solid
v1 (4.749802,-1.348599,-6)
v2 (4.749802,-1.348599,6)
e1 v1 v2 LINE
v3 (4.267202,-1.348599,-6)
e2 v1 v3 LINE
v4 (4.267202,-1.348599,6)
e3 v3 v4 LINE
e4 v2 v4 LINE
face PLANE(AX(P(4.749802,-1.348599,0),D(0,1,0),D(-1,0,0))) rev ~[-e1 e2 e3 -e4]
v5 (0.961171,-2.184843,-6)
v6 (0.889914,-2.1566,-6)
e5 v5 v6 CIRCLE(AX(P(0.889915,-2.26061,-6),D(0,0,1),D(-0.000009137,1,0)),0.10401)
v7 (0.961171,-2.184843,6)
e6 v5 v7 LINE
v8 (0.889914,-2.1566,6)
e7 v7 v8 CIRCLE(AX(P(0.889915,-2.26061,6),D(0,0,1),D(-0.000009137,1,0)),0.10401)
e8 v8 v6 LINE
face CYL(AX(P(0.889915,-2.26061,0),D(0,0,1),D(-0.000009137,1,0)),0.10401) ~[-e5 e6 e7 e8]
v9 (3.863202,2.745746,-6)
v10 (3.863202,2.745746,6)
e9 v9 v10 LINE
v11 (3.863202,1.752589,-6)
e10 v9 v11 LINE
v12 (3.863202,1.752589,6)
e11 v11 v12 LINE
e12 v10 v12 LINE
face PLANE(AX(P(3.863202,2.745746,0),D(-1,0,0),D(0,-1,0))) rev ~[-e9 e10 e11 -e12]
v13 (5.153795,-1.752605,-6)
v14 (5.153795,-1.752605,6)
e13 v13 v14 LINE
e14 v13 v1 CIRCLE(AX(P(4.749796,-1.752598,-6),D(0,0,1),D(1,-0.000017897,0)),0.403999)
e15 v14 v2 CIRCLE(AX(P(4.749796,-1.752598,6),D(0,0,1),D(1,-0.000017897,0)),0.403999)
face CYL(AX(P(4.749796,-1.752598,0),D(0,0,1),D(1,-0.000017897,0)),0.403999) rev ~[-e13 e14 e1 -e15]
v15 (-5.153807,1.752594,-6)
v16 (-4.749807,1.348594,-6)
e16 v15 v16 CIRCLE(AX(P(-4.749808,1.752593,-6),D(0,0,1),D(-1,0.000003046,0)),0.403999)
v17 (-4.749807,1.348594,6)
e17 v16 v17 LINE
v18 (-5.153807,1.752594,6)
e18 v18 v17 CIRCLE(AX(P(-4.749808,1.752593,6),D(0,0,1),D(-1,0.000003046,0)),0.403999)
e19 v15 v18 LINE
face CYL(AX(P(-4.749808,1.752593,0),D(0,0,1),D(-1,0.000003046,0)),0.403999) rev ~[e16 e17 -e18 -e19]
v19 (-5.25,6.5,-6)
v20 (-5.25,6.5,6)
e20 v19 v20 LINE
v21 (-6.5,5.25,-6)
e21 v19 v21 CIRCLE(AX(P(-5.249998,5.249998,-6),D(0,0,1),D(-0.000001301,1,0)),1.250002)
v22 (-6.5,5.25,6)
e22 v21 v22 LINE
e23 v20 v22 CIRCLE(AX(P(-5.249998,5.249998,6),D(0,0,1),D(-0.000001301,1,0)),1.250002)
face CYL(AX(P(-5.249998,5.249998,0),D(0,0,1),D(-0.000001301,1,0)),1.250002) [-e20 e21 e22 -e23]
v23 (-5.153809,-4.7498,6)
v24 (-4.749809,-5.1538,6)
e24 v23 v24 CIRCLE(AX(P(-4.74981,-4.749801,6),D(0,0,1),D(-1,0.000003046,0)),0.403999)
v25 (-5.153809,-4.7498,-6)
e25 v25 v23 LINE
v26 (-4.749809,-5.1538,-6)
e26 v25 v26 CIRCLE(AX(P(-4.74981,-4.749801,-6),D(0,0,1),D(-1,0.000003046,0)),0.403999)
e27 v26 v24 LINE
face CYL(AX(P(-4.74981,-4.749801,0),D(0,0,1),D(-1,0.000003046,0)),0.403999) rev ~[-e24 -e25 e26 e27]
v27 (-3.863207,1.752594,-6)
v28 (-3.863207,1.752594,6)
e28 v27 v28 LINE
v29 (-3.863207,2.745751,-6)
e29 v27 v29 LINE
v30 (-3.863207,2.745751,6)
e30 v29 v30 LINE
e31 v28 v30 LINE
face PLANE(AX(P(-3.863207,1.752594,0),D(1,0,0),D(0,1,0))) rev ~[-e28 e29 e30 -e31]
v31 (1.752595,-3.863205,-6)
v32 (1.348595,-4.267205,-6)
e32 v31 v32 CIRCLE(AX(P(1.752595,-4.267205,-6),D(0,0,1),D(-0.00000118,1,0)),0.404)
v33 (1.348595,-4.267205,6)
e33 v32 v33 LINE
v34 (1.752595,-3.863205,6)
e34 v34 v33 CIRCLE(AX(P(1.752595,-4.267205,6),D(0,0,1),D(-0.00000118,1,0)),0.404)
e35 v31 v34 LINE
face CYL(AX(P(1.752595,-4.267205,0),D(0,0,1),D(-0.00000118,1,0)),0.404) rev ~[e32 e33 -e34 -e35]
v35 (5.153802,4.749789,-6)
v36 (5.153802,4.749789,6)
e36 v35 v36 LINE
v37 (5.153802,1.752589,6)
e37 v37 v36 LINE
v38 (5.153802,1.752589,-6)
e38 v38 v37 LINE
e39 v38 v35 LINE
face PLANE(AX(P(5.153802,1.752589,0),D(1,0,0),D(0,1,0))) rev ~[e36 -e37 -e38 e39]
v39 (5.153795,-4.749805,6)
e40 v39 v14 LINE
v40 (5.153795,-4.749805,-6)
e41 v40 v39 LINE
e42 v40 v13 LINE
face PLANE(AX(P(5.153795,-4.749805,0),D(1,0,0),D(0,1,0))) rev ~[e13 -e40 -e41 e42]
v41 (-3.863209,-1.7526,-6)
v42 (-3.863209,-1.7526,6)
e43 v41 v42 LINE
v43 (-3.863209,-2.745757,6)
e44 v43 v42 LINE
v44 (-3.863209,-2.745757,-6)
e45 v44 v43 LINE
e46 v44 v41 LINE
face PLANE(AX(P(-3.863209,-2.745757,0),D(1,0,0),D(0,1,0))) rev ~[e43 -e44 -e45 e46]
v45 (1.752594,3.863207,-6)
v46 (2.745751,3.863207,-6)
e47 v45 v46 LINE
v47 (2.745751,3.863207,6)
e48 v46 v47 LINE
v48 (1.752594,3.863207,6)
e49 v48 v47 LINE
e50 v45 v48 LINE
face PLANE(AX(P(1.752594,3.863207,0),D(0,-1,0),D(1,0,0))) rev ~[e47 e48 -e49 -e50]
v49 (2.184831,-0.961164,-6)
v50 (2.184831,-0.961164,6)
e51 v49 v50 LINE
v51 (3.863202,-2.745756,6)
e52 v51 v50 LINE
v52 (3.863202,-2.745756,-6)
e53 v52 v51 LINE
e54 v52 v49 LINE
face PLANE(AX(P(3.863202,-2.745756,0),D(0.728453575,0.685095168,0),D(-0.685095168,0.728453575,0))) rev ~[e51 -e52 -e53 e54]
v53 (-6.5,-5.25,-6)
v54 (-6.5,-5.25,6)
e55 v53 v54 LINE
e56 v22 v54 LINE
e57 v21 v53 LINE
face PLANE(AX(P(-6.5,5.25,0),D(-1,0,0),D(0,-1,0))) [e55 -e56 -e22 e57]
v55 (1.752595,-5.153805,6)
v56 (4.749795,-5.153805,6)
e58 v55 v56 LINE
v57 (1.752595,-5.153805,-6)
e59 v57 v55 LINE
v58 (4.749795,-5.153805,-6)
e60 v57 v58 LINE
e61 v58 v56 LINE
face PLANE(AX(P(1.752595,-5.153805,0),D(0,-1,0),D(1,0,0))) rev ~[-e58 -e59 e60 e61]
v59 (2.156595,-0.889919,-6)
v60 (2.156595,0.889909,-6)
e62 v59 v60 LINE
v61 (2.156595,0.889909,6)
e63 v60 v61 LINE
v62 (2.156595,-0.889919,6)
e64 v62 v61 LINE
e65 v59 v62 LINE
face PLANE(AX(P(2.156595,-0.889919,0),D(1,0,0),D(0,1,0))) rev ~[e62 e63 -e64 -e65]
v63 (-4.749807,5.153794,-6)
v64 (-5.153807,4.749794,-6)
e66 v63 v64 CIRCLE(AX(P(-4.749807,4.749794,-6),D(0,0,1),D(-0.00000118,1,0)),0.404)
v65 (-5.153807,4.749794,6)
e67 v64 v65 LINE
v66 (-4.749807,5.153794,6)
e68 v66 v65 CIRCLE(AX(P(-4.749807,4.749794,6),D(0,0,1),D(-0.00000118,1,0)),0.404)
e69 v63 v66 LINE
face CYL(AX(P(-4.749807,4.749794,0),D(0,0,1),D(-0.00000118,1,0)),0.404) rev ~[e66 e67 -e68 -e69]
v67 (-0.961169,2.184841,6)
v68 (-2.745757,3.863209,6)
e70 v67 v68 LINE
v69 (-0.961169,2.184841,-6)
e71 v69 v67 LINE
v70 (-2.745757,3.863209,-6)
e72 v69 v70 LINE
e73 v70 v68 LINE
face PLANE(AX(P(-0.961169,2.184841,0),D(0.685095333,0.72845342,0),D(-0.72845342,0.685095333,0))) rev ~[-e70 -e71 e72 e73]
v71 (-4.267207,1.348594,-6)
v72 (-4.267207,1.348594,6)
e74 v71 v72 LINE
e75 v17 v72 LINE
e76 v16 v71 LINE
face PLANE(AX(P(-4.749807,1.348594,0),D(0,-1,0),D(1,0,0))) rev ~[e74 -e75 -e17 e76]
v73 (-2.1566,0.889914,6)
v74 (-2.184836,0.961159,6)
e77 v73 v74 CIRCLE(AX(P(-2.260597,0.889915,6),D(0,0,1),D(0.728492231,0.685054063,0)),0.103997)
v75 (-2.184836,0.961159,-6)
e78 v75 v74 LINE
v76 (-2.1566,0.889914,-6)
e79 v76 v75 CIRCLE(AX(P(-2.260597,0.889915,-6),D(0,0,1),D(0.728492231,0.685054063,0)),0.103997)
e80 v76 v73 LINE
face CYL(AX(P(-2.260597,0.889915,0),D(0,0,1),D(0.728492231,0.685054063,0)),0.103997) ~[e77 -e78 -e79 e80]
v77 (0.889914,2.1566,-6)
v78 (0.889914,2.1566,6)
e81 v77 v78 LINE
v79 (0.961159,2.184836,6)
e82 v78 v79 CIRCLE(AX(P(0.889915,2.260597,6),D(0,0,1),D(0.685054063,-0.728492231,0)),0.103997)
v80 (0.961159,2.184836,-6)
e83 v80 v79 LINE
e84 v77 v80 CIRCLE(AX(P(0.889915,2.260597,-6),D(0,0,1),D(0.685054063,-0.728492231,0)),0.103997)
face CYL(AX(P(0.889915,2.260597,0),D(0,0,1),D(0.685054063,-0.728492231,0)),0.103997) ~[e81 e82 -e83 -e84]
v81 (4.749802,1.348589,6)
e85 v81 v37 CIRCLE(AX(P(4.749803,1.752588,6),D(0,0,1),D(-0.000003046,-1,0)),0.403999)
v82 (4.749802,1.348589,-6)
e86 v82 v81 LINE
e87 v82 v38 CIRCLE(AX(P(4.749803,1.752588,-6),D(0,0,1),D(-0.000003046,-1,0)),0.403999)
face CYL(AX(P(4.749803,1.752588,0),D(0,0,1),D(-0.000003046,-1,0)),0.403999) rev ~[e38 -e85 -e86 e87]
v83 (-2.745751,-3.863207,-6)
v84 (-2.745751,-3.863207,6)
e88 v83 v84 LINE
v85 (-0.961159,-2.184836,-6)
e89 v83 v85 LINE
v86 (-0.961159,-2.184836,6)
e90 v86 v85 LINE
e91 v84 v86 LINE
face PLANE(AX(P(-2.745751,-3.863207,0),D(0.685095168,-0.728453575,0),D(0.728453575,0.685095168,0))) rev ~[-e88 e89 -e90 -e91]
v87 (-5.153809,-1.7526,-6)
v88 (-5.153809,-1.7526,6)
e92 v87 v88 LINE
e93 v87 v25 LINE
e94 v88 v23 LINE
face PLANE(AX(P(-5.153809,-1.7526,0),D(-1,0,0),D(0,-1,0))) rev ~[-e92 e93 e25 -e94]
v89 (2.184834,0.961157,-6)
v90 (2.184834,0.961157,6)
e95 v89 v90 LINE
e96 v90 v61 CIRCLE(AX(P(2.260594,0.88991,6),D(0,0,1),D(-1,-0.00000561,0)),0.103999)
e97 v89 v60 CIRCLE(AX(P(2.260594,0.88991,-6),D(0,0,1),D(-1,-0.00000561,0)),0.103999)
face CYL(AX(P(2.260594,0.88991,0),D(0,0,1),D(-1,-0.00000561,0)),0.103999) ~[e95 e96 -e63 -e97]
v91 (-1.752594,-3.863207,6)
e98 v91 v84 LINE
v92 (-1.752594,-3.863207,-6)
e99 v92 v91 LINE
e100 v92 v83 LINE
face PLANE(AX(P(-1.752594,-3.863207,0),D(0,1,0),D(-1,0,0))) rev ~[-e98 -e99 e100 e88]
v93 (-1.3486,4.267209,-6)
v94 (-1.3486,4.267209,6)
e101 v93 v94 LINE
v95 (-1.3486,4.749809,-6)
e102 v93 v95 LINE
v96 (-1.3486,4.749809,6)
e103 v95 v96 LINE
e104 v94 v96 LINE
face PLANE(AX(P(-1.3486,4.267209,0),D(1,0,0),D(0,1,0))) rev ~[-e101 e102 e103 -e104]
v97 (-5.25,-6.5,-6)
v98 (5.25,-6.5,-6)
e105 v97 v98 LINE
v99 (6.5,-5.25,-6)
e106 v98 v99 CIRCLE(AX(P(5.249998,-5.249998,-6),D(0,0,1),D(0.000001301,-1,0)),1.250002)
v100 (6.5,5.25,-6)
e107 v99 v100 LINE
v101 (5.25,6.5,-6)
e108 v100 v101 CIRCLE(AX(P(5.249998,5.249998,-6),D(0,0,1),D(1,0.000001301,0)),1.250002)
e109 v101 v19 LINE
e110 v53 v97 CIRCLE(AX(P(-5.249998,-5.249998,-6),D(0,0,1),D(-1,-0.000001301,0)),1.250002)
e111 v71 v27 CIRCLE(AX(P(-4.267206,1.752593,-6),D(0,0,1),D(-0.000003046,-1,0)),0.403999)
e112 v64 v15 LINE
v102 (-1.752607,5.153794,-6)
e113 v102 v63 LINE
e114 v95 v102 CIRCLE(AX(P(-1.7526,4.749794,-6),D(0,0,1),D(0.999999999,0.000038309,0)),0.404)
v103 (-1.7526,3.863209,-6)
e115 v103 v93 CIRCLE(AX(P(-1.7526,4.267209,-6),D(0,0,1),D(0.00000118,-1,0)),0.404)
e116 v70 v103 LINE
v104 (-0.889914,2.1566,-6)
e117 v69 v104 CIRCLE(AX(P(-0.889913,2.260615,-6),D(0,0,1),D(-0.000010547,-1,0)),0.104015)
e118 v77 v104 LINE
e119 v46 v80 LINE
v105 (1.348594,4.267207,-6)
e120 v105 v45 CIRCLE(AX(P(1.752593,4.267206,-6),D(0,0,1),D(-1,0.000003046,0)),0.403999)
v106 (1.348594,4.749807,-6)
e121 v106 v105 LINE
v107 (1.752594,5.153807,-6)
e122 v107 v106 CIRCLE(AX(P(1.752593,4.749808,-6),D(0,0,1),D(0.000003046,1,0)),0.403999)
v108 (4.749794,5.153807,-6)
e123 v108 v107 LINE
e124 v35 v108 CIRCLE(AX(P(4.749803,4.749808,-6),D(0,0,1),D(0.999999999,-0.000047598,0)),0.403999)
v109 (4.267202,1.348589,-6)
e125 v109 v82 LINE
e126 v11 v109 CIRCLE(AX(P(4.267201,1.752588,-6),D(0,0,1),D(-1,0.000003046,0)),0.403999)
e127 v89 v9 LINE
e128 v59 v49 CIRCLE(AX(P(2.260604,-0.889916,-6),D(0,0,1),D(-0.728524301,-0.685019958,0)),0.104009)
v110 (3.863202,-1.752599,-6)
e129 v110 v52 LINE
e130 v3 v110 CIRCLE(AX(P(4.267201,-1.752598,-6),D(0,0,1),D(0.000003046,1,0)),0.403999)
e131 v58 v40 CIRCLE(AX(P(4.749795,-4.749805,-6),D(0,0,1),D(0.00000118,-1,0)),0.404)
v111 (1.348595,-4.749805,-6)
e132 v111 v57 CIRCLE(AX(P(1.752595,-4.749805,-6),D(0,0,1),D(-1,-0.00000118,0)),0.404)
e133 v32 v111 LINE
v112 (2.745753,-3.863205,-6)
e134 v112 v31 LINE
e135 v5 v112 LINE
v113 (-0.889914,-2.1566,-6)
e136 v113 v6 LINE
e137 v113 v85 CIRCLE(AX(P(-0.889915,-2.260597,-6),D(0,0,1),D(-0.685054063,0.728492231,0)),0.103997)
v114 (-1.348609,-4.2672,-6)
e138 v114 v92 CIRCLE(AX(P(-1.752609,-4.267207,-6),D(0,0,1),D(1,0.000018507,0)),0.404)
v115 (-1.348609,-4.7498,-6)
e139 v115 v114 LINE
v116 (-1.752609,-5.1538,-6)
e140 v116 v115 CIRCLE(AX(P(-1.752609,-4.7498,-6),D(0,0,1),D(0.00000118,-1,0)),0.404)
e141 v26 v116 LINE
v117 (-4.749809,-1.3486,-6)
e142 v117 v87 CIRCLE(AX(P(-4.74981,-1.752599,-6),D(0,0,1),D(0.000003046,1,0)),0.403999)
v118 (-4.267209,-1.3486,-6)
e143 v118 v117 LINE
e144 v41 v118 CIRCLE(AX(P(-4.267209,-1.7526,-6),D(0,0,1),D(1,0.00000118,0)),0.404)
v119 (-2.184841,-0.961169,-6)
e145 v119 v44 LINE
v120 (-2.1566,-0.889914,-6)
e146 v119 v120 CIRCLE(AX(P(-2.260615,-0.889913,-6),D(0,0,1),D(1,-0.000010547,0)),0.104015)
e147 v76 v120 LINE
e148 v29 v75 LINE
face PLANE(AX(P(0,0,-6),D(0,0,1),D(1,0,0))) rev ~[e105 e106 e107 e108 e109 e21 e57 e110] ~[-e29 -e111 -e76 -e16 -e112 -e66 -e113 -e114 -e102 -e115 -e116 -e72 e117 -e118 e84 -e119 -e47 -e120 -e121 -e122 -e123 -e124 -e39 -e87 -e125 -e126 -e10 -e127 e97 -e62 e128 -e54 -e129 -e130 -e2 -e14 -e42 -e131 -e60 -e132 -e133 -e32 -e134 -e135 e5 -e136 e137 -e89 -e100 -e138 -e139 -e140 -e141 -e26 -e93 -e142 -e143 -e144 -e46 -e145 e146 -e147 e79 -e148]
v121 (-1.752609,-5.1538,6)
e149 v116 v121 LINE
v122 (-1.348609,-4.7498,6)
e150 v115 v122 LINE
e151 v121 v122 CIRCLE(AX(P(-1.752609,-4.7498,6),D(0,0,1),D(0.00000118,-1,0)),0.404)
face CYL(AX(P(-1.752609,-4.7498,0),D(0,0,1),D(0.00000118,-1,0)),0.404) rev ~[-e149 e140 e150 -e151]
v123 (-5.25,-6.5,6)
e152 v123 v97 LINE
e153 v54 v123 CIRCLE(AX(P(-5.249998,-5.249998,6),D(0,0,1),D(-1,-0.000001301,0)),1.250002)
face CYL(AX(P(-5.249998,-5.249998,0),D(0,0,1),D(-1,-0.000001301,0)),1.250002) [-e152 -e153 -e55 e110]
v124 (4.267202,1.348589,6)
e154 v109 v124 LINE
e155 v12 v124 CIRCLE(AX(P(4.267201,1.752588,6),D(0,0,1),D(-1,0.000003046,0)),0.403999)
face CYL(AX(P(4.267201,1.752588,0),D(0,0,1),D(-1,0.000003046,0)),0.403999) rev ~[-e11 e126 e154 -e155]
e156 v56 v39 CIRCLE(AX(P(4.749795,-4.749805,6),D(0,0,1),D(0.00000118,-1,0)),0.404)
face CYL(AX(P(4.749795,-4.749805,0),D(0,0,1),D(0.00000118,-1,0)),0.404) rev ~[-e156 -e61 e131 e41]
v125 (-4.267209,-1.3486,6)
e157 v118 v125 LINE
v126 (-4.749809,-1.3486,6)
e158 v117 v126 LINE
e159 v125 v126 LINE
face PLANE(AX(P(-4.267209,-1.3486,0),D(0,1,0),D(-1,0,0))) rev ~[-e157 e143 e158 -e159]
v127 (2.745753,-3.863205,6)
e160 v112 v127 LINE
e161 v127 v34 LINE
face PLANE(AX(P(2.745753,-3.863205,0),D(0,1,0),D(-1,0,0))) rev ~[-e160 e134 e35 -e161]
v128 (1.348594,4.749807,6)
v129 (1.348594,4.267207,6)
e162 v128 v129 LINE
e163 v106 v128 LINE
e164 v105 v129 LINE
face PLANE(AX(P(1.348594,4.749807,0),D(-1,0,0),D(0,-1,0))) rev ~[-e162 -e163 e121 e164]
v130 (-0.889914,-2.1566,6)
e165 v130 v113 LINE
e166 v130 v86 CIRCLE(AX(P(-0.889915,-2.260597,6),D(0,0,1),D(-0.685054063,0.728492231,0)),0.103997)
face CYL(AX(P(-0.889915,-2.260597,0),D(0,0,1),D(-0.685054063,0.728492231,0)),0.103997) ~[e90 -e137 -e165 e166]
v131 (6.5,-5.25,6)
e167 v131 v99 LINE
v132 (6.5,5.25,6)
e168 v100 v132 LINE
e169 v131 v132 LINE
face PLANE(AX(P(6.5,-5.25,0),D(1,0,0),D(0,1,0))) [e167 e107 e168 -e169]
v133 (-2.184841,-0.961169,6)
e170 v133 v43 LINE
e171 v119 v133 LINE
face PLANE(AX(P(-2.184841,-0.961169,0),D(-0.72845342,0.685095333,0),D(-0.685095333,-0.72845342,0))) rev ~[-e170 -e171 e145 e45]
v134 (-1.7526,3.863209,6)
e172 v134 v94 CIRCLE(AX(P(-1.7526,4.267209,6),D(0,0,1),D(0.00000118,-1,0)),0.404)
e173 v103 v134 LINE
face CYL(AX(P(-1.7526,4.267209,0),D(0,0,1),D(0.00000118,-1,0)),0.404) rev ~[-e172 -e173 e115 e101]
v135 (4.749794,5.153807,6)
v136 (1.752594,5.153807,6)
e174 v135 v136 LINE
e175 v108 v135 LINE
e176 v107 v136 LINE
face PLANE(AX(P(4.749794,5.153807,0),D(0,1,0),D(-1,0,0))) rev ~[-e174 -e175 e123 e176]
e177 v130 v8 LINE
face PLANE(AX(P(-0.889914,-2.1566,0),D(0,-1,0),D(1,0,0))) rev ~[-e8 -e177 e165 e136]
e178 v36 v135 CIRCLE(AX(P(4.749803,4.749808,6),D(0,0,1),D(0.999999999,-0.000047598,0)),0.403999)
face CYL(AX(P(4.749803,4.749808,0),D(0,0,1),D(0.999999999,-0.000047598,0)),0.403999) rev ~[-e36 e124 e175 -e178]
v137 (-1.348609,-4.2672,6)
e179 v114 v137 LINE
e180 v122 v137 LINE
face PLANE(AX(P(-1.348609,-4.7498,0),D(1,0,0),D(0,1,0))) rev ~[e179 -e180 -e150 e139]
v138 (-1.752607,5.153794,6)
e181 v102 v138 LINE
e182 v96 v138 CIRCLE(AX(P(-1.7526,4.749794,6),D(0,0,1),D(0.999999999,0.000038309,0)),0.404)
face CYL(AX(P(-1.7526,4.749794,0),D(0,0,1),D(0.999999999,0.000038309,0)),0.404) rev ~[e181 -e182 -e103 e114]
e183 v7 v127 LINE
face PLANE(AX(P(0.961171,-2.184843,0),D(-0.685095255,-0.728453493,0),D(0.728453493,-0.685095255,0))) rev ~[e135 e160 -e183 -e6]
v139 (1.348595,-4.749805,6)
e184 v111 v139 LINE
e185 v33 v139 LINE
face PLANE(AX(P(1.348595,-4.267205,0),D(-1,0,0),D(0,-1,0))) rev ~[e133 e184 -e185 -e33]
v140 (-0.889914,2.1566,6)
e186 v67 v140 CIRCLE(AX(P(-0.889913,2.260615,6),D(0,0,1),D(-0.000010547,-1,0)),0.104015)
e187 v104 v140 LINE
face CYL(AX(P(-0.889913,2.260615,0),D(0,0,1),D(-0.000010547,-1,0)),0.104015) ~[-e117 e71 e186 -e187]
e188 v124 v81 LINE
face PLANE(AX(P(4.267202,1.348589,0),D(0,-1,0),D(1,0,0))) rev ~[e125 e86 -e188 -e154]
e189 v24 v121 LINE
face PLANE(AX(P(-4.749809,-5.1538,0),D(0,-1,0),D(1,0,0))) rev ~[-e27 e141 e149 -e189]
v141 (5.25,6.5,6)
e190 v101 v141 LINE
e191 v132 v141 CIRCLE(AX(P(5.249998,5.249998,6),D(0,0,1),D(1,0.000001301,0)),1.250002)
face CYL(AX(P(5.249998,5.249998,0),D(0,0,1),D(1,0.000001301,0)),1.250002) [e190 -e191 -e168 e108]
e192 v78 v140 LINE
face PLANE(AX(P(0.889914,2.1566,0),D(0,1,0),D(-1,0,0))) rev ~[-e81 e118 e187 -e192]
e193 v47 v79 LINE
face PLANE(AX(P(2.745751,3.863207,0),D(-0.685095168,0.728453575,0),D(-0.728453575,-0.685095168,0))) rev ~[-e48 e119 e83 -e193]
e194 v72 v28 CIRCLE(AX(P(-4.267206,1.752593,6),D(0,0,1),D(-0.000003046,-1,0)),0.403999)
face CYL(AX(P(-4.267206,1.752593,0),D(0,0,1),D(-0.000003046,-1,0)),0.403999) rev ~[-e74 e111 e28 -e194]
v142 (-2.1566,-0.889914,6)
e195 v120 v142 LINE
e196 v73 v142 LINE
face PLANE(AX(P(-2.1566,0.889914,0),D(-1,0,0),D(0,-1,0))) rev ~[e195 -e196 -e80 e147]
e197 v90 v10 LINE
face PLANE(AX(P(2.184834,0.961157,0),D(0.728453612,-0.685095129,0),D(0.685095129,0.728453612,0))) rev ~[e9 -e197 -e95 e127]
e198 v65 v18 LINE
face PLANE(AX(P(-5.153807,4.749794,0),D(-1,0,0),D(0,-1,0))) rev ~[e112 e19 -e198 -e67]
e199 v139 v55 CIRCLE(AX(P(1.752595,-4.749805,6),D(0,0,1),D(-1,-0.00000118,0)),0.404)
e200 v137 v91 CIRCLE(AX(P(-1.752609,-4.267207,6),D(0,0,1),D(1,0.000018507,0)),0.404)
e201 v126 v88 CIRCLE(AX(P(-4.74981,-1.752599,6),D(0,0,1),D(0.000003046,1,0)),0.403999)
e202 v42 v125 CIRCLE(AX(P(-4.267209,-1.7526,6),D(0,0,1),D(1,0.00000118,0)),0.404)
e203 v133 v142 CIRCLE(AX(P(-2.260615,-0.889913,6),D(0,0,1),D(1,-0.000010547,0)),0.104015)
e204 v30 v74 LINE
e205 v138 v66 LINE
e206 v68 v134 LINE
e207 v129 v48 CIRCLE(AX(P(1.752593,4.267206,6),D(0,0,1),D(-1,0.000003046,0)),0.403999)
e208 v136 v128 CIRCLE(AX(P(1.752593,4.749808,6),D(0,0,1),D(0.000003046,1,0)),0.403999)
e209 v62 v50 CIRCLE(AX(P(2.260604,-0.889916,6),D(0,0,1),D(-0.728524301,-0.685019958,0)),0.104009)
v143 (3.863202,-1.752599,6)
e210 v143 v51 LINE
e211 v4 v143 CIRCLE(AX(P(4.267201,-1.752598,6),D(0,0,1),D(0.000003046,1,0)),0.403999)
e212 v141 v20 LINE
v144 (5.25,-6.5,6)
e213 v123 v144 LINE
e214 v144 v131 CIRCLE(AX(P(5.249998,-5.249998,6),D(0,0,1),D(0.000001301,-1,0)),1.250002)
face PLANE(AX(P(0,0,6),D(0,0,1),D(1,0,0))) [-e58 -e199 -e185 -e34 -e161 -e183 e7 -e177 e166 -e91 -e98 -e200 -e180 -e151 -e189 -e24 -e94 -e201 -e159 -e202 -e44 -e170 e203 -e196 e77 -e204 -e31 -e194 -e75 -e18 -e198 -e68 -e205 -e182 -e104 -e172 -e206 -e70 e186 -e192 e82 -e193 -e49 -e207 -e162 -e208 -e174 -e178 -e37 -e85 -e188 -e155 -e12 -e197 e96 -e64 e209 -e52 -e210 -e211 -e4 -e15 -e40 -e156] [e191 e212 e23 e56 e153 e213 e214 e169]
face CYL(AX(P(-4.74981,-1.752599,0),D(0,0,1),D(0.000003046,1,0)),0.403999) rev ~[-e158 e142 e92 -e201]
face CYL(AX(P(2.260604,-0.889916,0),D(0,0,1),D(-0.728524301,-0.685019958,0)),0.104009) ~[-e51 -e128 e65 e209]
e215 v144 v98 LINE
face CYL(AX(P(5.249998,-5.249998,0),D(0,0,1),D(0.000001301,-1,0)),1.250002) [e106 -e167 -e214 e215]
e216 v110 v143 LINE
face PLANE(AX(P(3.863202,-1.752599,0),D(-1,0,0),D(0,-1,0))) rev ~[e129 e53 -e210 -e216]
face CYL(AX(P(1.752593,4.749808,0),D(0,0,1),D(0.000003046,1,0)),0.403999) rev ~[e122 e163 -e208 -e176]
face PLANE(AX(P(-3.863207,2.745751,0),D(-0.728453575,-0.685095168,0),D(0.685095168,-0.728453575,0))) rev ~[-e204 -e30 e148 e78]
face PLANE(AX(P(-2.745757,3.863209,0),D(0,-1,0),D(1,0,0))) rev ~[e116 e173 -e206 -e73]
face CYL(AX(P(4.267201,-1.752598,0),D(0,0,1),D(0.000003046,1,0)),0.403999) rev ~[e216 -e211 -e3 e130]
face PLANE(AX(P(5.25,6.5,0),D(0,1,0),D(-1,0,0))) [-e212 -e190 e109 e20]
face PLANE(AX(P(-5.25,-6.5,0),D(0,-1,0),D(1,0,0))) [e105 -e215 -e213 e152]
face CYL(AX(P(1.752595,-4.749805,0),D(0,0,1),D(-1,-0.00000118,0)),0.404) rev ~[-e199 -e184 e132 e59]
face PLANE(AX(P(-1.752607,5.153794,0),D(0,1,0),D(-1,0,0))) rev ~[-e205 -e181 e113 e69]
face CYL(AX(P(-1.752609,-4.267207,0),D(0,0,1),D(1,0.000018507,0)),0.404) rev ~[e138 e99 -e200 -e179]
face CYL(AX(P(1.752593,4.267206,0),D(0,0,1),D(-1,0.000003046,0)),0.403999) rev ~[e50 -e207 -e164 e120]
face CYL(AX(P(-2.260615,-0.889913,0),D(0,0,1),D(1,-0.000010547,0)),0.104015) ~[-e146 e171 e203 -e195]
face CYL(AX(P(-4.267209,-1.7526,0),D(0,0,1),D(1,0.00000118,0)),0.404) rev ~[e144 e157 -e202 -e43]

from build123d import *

# Parameters (mm, degrees)
F1_DEPTH = 6
F3_DEPTH = 10


with BuildPart() as f1:
    # F0 (on Top) → F1 (new body, symmetric)
    with BuildSketch(Plane.XY):
        with BuildLine():
            Line((6.5, -5.25), (6.5, 5.25))
            ThreePointArc((6.5, 5.25), (6.133883, 6.133883), (5.25, 6.5))
            Line((5.25, 6.5), (-5.25, 6.5))
            ThreePointArc((-5.25, 6.5), (-6.133883, 6.133883), (-6.5, 5.25))
            Line((-6.5, 5.25), (-6.5, -5.25))
            ThreePointArc((-6.5, -5.25), (-6.133883, -6.133883), (-5.25, -6.5))
            Line((-5.25, -6.5), (5.25, -6.5))
            ThreePointArc((5.25, -6.5), (6.133883, -6.133883), (6.5, -5.25))
        make_face()
    extrude(amount=F1_DEPTH, both=True)

    # F2 (on Top) → F3 (cut, symmetric)
    with BuildSketch(Plane.XY):
        with BuildLine():
            ThreePointArc((0.889914, -2.1566), (0.928239, -2.163918), (0.961171, -2.184843))
            Line((0.961171, -2.184843), (2.745753, -3.863205))
            Line((2.745753, -3.863205), (1.752595, -3.863205))
            ThreePointArc((1.752595, -3.863205), (1.466924, -3.981534), (1.348595, -4.267205))
            Line((1.348595, -4.267205), (1.348595, -4.749805))
            ThreePointArc((1.348595, -4.749805), (1.466924, -5.035476), (1.752595, -5.153805))
            Line((1.752595, -5.153805), (4.749795, -5.153805))
            ThreePointArc((4.749795, -5.153805), (5.035466, -5.035476), (5.153795, -4.749805))
            Line((5.153795, -4.749805), (5.153795, -1.752605))
            ThreePointArc((5.153795, -1.752605), (5.035471, -1.466932), (4.749802, -1.348599))
            Line((4.749802, -1.348599), (4.267202, -1.348599))
            ThreePointArc((4.267202, -1.348599), (3.981531, -1.466927), (3.863202, -1.752599))
            Line((3.863202, -1.752599), (3.863202, -2.745756))
            Line((3.863202, -2.745756), (2.184831, -0.961164))
            ThreePointArc((2.184831, -0.961164), (2.163912, -0.928237), (2.156595, -0.889919))
            Line((2.156595, -0.889919), (2.156595, 0.889909))
            ThreePointArc((2.156595, 0.889909), (2.163912, 0.928229), (2.184834, 0.961157))
            Line((2.184834, 0.961157), (3.863202, 2.745746))
            Line((3.863202, 2.745746), (3.863202, 1.752589))
            ThreePointArc((3.863202, 1.752589), (3.981531, 1.466917), (4.267202, 1.348589))
            Line((4.267202, 1.348589), (4.749802, 1.348589))
            ThreePointArc((4.749802, 1.348589), (5.035473, 1.466917), (5.153802, 1.752589))
            Line((5.153802, 1.752589), (5.153802, 4.749789))
            ThreePointArc((5.153802, 4.749789), (5.035477, 5.035475), (4.749794, 5.153807))
            Line((4.749794, 5.153807), (1.752594, 5.153807))
            ThreePointArc((1.752594, 5.153807), (1.466922, 5.035478), (1.348594, 4.749807))
            Line((1.348594, 4.749807), (1.348594, 4.267207))
            ThreePointArc((1.348594, 4.267207), (1.466922, 3.981536), (1.752594, 3.863207))
            Line((1.752594, 3.863207), (2.745751, 3.863207))
            Line((2.745751, 3.863207), (0.961159, 2.184836))
            ThreePointArc((0.961159, 2.184836), (0.928232, 2.163916), (0.889914, 2.1566))
            Line((0.889914, 2.1566), (-0.889914, 2.1566))
            ThreePointArc((-0.889914, 2.1566), (-0.928238, 2.163918), (-0.961169, 2.184841))
            Line((-0.961169, 2.184841), (-2.745757, 3.863209))
            Line((-2.745757, 3.863209), (-1.7526, 3.863209))
            ThreePointArc((-1.7526, 3.863209), (-1.466929, 3.981538), (-1.3486, 4.267209))
            Line((-1.3486, 4.267209), (-1.3486, 4.749809))
            ThreePointArc((-1.3486, 4.749809), (-1.466937, 5.035473), (-1.752607, 5.153794))
            Line((-1.752607, 5.153794), (-4.749807, 5.153794))
            ThreePointArc((-4.749807, 5.153794), (-5.035478, 5.035465), (-5.153807, 4.749794))
            Line((-5.153807, 4.749794), (-5.153807, 1.752594))
            ThreePointArc((-5.153807, 1.752594), (-5.035478, 1.466922), (-4.749807, 1.348594))
            Line((-4.749807, 1.348594), (-4.267207, 1.348594))
            ThreePointArc((-4.267207, 1.348594), (-3.981536, 1.466922), (-3.863207, 1.752594))
            Line((-3.863207, 1.752594), (-3.863207, 2.745751))
            Line((-3.863207, 2.745751), (-2.184836, 0.961159))
            ThreePointArc((-2.184836, 0.961159), (-2.163916, 0.928232), (-2.1566, 0.889914))
            Line((-2.1566, 0.889914), (-2.1566, -0.889914))
            ThreePointArc((-2.1566, -0.889914), (-2.163918, -0.928238), (-2.184841, -0.961169))
            Line((-2.184841, -0.961169), (-3.863209, -2.745757))
            Line((-3.863209, -2.745757), (-3.863209, -1.7526))
            ThreePointArc((-3.863209, -1.7526), (-3.981538, -1.466929), (-4.267209, -1.3486))
            Line((-4.267209, -1.3486), (-4.749809, -1.3486))
            ThreePointArc((-4.749809, -1.3486), (-5.035481, -1.466929), (-5.153809, -1.7526))
            Line((-5.153809, -1.7526), (-5.153809, -4.7498))
            ThreePointArc((-5.153809, -4.7498), (-5.035481, -5.035471), (-4.749809, -5.1538))
            Line((-4.749809, -5.1538), (-1.752609, -5.1538))
            ThreePointArc((-1.752609, -5.1538), (-1.466938, -5.035471), (-1.348609, -4.7498))
            Line((-1.348609, -4.7498), (-1.348609, -4.2672))
            ThreePointArc((-1.348609, -4.2672), (-1.466935, -3.981539), (-1.752594, -3.863207))
            Line((-1.752594, -3.863207), (-2.745751, -3.863207))
            Line((-2.745751, -3.863207), (-0.961159, -2.184836))
            ThreePointArc((-0.961159, -2.184836), (-0.928232, -2.163916), (-0.889914, -2.1566))
            Line((-0.889914, -2.1566), (0.889914, -2.1566))
        make_face()
    extrude(amount=F3_DEPTH, both=True, mode=Mode.SUBTRACT)


solid = f1.part
